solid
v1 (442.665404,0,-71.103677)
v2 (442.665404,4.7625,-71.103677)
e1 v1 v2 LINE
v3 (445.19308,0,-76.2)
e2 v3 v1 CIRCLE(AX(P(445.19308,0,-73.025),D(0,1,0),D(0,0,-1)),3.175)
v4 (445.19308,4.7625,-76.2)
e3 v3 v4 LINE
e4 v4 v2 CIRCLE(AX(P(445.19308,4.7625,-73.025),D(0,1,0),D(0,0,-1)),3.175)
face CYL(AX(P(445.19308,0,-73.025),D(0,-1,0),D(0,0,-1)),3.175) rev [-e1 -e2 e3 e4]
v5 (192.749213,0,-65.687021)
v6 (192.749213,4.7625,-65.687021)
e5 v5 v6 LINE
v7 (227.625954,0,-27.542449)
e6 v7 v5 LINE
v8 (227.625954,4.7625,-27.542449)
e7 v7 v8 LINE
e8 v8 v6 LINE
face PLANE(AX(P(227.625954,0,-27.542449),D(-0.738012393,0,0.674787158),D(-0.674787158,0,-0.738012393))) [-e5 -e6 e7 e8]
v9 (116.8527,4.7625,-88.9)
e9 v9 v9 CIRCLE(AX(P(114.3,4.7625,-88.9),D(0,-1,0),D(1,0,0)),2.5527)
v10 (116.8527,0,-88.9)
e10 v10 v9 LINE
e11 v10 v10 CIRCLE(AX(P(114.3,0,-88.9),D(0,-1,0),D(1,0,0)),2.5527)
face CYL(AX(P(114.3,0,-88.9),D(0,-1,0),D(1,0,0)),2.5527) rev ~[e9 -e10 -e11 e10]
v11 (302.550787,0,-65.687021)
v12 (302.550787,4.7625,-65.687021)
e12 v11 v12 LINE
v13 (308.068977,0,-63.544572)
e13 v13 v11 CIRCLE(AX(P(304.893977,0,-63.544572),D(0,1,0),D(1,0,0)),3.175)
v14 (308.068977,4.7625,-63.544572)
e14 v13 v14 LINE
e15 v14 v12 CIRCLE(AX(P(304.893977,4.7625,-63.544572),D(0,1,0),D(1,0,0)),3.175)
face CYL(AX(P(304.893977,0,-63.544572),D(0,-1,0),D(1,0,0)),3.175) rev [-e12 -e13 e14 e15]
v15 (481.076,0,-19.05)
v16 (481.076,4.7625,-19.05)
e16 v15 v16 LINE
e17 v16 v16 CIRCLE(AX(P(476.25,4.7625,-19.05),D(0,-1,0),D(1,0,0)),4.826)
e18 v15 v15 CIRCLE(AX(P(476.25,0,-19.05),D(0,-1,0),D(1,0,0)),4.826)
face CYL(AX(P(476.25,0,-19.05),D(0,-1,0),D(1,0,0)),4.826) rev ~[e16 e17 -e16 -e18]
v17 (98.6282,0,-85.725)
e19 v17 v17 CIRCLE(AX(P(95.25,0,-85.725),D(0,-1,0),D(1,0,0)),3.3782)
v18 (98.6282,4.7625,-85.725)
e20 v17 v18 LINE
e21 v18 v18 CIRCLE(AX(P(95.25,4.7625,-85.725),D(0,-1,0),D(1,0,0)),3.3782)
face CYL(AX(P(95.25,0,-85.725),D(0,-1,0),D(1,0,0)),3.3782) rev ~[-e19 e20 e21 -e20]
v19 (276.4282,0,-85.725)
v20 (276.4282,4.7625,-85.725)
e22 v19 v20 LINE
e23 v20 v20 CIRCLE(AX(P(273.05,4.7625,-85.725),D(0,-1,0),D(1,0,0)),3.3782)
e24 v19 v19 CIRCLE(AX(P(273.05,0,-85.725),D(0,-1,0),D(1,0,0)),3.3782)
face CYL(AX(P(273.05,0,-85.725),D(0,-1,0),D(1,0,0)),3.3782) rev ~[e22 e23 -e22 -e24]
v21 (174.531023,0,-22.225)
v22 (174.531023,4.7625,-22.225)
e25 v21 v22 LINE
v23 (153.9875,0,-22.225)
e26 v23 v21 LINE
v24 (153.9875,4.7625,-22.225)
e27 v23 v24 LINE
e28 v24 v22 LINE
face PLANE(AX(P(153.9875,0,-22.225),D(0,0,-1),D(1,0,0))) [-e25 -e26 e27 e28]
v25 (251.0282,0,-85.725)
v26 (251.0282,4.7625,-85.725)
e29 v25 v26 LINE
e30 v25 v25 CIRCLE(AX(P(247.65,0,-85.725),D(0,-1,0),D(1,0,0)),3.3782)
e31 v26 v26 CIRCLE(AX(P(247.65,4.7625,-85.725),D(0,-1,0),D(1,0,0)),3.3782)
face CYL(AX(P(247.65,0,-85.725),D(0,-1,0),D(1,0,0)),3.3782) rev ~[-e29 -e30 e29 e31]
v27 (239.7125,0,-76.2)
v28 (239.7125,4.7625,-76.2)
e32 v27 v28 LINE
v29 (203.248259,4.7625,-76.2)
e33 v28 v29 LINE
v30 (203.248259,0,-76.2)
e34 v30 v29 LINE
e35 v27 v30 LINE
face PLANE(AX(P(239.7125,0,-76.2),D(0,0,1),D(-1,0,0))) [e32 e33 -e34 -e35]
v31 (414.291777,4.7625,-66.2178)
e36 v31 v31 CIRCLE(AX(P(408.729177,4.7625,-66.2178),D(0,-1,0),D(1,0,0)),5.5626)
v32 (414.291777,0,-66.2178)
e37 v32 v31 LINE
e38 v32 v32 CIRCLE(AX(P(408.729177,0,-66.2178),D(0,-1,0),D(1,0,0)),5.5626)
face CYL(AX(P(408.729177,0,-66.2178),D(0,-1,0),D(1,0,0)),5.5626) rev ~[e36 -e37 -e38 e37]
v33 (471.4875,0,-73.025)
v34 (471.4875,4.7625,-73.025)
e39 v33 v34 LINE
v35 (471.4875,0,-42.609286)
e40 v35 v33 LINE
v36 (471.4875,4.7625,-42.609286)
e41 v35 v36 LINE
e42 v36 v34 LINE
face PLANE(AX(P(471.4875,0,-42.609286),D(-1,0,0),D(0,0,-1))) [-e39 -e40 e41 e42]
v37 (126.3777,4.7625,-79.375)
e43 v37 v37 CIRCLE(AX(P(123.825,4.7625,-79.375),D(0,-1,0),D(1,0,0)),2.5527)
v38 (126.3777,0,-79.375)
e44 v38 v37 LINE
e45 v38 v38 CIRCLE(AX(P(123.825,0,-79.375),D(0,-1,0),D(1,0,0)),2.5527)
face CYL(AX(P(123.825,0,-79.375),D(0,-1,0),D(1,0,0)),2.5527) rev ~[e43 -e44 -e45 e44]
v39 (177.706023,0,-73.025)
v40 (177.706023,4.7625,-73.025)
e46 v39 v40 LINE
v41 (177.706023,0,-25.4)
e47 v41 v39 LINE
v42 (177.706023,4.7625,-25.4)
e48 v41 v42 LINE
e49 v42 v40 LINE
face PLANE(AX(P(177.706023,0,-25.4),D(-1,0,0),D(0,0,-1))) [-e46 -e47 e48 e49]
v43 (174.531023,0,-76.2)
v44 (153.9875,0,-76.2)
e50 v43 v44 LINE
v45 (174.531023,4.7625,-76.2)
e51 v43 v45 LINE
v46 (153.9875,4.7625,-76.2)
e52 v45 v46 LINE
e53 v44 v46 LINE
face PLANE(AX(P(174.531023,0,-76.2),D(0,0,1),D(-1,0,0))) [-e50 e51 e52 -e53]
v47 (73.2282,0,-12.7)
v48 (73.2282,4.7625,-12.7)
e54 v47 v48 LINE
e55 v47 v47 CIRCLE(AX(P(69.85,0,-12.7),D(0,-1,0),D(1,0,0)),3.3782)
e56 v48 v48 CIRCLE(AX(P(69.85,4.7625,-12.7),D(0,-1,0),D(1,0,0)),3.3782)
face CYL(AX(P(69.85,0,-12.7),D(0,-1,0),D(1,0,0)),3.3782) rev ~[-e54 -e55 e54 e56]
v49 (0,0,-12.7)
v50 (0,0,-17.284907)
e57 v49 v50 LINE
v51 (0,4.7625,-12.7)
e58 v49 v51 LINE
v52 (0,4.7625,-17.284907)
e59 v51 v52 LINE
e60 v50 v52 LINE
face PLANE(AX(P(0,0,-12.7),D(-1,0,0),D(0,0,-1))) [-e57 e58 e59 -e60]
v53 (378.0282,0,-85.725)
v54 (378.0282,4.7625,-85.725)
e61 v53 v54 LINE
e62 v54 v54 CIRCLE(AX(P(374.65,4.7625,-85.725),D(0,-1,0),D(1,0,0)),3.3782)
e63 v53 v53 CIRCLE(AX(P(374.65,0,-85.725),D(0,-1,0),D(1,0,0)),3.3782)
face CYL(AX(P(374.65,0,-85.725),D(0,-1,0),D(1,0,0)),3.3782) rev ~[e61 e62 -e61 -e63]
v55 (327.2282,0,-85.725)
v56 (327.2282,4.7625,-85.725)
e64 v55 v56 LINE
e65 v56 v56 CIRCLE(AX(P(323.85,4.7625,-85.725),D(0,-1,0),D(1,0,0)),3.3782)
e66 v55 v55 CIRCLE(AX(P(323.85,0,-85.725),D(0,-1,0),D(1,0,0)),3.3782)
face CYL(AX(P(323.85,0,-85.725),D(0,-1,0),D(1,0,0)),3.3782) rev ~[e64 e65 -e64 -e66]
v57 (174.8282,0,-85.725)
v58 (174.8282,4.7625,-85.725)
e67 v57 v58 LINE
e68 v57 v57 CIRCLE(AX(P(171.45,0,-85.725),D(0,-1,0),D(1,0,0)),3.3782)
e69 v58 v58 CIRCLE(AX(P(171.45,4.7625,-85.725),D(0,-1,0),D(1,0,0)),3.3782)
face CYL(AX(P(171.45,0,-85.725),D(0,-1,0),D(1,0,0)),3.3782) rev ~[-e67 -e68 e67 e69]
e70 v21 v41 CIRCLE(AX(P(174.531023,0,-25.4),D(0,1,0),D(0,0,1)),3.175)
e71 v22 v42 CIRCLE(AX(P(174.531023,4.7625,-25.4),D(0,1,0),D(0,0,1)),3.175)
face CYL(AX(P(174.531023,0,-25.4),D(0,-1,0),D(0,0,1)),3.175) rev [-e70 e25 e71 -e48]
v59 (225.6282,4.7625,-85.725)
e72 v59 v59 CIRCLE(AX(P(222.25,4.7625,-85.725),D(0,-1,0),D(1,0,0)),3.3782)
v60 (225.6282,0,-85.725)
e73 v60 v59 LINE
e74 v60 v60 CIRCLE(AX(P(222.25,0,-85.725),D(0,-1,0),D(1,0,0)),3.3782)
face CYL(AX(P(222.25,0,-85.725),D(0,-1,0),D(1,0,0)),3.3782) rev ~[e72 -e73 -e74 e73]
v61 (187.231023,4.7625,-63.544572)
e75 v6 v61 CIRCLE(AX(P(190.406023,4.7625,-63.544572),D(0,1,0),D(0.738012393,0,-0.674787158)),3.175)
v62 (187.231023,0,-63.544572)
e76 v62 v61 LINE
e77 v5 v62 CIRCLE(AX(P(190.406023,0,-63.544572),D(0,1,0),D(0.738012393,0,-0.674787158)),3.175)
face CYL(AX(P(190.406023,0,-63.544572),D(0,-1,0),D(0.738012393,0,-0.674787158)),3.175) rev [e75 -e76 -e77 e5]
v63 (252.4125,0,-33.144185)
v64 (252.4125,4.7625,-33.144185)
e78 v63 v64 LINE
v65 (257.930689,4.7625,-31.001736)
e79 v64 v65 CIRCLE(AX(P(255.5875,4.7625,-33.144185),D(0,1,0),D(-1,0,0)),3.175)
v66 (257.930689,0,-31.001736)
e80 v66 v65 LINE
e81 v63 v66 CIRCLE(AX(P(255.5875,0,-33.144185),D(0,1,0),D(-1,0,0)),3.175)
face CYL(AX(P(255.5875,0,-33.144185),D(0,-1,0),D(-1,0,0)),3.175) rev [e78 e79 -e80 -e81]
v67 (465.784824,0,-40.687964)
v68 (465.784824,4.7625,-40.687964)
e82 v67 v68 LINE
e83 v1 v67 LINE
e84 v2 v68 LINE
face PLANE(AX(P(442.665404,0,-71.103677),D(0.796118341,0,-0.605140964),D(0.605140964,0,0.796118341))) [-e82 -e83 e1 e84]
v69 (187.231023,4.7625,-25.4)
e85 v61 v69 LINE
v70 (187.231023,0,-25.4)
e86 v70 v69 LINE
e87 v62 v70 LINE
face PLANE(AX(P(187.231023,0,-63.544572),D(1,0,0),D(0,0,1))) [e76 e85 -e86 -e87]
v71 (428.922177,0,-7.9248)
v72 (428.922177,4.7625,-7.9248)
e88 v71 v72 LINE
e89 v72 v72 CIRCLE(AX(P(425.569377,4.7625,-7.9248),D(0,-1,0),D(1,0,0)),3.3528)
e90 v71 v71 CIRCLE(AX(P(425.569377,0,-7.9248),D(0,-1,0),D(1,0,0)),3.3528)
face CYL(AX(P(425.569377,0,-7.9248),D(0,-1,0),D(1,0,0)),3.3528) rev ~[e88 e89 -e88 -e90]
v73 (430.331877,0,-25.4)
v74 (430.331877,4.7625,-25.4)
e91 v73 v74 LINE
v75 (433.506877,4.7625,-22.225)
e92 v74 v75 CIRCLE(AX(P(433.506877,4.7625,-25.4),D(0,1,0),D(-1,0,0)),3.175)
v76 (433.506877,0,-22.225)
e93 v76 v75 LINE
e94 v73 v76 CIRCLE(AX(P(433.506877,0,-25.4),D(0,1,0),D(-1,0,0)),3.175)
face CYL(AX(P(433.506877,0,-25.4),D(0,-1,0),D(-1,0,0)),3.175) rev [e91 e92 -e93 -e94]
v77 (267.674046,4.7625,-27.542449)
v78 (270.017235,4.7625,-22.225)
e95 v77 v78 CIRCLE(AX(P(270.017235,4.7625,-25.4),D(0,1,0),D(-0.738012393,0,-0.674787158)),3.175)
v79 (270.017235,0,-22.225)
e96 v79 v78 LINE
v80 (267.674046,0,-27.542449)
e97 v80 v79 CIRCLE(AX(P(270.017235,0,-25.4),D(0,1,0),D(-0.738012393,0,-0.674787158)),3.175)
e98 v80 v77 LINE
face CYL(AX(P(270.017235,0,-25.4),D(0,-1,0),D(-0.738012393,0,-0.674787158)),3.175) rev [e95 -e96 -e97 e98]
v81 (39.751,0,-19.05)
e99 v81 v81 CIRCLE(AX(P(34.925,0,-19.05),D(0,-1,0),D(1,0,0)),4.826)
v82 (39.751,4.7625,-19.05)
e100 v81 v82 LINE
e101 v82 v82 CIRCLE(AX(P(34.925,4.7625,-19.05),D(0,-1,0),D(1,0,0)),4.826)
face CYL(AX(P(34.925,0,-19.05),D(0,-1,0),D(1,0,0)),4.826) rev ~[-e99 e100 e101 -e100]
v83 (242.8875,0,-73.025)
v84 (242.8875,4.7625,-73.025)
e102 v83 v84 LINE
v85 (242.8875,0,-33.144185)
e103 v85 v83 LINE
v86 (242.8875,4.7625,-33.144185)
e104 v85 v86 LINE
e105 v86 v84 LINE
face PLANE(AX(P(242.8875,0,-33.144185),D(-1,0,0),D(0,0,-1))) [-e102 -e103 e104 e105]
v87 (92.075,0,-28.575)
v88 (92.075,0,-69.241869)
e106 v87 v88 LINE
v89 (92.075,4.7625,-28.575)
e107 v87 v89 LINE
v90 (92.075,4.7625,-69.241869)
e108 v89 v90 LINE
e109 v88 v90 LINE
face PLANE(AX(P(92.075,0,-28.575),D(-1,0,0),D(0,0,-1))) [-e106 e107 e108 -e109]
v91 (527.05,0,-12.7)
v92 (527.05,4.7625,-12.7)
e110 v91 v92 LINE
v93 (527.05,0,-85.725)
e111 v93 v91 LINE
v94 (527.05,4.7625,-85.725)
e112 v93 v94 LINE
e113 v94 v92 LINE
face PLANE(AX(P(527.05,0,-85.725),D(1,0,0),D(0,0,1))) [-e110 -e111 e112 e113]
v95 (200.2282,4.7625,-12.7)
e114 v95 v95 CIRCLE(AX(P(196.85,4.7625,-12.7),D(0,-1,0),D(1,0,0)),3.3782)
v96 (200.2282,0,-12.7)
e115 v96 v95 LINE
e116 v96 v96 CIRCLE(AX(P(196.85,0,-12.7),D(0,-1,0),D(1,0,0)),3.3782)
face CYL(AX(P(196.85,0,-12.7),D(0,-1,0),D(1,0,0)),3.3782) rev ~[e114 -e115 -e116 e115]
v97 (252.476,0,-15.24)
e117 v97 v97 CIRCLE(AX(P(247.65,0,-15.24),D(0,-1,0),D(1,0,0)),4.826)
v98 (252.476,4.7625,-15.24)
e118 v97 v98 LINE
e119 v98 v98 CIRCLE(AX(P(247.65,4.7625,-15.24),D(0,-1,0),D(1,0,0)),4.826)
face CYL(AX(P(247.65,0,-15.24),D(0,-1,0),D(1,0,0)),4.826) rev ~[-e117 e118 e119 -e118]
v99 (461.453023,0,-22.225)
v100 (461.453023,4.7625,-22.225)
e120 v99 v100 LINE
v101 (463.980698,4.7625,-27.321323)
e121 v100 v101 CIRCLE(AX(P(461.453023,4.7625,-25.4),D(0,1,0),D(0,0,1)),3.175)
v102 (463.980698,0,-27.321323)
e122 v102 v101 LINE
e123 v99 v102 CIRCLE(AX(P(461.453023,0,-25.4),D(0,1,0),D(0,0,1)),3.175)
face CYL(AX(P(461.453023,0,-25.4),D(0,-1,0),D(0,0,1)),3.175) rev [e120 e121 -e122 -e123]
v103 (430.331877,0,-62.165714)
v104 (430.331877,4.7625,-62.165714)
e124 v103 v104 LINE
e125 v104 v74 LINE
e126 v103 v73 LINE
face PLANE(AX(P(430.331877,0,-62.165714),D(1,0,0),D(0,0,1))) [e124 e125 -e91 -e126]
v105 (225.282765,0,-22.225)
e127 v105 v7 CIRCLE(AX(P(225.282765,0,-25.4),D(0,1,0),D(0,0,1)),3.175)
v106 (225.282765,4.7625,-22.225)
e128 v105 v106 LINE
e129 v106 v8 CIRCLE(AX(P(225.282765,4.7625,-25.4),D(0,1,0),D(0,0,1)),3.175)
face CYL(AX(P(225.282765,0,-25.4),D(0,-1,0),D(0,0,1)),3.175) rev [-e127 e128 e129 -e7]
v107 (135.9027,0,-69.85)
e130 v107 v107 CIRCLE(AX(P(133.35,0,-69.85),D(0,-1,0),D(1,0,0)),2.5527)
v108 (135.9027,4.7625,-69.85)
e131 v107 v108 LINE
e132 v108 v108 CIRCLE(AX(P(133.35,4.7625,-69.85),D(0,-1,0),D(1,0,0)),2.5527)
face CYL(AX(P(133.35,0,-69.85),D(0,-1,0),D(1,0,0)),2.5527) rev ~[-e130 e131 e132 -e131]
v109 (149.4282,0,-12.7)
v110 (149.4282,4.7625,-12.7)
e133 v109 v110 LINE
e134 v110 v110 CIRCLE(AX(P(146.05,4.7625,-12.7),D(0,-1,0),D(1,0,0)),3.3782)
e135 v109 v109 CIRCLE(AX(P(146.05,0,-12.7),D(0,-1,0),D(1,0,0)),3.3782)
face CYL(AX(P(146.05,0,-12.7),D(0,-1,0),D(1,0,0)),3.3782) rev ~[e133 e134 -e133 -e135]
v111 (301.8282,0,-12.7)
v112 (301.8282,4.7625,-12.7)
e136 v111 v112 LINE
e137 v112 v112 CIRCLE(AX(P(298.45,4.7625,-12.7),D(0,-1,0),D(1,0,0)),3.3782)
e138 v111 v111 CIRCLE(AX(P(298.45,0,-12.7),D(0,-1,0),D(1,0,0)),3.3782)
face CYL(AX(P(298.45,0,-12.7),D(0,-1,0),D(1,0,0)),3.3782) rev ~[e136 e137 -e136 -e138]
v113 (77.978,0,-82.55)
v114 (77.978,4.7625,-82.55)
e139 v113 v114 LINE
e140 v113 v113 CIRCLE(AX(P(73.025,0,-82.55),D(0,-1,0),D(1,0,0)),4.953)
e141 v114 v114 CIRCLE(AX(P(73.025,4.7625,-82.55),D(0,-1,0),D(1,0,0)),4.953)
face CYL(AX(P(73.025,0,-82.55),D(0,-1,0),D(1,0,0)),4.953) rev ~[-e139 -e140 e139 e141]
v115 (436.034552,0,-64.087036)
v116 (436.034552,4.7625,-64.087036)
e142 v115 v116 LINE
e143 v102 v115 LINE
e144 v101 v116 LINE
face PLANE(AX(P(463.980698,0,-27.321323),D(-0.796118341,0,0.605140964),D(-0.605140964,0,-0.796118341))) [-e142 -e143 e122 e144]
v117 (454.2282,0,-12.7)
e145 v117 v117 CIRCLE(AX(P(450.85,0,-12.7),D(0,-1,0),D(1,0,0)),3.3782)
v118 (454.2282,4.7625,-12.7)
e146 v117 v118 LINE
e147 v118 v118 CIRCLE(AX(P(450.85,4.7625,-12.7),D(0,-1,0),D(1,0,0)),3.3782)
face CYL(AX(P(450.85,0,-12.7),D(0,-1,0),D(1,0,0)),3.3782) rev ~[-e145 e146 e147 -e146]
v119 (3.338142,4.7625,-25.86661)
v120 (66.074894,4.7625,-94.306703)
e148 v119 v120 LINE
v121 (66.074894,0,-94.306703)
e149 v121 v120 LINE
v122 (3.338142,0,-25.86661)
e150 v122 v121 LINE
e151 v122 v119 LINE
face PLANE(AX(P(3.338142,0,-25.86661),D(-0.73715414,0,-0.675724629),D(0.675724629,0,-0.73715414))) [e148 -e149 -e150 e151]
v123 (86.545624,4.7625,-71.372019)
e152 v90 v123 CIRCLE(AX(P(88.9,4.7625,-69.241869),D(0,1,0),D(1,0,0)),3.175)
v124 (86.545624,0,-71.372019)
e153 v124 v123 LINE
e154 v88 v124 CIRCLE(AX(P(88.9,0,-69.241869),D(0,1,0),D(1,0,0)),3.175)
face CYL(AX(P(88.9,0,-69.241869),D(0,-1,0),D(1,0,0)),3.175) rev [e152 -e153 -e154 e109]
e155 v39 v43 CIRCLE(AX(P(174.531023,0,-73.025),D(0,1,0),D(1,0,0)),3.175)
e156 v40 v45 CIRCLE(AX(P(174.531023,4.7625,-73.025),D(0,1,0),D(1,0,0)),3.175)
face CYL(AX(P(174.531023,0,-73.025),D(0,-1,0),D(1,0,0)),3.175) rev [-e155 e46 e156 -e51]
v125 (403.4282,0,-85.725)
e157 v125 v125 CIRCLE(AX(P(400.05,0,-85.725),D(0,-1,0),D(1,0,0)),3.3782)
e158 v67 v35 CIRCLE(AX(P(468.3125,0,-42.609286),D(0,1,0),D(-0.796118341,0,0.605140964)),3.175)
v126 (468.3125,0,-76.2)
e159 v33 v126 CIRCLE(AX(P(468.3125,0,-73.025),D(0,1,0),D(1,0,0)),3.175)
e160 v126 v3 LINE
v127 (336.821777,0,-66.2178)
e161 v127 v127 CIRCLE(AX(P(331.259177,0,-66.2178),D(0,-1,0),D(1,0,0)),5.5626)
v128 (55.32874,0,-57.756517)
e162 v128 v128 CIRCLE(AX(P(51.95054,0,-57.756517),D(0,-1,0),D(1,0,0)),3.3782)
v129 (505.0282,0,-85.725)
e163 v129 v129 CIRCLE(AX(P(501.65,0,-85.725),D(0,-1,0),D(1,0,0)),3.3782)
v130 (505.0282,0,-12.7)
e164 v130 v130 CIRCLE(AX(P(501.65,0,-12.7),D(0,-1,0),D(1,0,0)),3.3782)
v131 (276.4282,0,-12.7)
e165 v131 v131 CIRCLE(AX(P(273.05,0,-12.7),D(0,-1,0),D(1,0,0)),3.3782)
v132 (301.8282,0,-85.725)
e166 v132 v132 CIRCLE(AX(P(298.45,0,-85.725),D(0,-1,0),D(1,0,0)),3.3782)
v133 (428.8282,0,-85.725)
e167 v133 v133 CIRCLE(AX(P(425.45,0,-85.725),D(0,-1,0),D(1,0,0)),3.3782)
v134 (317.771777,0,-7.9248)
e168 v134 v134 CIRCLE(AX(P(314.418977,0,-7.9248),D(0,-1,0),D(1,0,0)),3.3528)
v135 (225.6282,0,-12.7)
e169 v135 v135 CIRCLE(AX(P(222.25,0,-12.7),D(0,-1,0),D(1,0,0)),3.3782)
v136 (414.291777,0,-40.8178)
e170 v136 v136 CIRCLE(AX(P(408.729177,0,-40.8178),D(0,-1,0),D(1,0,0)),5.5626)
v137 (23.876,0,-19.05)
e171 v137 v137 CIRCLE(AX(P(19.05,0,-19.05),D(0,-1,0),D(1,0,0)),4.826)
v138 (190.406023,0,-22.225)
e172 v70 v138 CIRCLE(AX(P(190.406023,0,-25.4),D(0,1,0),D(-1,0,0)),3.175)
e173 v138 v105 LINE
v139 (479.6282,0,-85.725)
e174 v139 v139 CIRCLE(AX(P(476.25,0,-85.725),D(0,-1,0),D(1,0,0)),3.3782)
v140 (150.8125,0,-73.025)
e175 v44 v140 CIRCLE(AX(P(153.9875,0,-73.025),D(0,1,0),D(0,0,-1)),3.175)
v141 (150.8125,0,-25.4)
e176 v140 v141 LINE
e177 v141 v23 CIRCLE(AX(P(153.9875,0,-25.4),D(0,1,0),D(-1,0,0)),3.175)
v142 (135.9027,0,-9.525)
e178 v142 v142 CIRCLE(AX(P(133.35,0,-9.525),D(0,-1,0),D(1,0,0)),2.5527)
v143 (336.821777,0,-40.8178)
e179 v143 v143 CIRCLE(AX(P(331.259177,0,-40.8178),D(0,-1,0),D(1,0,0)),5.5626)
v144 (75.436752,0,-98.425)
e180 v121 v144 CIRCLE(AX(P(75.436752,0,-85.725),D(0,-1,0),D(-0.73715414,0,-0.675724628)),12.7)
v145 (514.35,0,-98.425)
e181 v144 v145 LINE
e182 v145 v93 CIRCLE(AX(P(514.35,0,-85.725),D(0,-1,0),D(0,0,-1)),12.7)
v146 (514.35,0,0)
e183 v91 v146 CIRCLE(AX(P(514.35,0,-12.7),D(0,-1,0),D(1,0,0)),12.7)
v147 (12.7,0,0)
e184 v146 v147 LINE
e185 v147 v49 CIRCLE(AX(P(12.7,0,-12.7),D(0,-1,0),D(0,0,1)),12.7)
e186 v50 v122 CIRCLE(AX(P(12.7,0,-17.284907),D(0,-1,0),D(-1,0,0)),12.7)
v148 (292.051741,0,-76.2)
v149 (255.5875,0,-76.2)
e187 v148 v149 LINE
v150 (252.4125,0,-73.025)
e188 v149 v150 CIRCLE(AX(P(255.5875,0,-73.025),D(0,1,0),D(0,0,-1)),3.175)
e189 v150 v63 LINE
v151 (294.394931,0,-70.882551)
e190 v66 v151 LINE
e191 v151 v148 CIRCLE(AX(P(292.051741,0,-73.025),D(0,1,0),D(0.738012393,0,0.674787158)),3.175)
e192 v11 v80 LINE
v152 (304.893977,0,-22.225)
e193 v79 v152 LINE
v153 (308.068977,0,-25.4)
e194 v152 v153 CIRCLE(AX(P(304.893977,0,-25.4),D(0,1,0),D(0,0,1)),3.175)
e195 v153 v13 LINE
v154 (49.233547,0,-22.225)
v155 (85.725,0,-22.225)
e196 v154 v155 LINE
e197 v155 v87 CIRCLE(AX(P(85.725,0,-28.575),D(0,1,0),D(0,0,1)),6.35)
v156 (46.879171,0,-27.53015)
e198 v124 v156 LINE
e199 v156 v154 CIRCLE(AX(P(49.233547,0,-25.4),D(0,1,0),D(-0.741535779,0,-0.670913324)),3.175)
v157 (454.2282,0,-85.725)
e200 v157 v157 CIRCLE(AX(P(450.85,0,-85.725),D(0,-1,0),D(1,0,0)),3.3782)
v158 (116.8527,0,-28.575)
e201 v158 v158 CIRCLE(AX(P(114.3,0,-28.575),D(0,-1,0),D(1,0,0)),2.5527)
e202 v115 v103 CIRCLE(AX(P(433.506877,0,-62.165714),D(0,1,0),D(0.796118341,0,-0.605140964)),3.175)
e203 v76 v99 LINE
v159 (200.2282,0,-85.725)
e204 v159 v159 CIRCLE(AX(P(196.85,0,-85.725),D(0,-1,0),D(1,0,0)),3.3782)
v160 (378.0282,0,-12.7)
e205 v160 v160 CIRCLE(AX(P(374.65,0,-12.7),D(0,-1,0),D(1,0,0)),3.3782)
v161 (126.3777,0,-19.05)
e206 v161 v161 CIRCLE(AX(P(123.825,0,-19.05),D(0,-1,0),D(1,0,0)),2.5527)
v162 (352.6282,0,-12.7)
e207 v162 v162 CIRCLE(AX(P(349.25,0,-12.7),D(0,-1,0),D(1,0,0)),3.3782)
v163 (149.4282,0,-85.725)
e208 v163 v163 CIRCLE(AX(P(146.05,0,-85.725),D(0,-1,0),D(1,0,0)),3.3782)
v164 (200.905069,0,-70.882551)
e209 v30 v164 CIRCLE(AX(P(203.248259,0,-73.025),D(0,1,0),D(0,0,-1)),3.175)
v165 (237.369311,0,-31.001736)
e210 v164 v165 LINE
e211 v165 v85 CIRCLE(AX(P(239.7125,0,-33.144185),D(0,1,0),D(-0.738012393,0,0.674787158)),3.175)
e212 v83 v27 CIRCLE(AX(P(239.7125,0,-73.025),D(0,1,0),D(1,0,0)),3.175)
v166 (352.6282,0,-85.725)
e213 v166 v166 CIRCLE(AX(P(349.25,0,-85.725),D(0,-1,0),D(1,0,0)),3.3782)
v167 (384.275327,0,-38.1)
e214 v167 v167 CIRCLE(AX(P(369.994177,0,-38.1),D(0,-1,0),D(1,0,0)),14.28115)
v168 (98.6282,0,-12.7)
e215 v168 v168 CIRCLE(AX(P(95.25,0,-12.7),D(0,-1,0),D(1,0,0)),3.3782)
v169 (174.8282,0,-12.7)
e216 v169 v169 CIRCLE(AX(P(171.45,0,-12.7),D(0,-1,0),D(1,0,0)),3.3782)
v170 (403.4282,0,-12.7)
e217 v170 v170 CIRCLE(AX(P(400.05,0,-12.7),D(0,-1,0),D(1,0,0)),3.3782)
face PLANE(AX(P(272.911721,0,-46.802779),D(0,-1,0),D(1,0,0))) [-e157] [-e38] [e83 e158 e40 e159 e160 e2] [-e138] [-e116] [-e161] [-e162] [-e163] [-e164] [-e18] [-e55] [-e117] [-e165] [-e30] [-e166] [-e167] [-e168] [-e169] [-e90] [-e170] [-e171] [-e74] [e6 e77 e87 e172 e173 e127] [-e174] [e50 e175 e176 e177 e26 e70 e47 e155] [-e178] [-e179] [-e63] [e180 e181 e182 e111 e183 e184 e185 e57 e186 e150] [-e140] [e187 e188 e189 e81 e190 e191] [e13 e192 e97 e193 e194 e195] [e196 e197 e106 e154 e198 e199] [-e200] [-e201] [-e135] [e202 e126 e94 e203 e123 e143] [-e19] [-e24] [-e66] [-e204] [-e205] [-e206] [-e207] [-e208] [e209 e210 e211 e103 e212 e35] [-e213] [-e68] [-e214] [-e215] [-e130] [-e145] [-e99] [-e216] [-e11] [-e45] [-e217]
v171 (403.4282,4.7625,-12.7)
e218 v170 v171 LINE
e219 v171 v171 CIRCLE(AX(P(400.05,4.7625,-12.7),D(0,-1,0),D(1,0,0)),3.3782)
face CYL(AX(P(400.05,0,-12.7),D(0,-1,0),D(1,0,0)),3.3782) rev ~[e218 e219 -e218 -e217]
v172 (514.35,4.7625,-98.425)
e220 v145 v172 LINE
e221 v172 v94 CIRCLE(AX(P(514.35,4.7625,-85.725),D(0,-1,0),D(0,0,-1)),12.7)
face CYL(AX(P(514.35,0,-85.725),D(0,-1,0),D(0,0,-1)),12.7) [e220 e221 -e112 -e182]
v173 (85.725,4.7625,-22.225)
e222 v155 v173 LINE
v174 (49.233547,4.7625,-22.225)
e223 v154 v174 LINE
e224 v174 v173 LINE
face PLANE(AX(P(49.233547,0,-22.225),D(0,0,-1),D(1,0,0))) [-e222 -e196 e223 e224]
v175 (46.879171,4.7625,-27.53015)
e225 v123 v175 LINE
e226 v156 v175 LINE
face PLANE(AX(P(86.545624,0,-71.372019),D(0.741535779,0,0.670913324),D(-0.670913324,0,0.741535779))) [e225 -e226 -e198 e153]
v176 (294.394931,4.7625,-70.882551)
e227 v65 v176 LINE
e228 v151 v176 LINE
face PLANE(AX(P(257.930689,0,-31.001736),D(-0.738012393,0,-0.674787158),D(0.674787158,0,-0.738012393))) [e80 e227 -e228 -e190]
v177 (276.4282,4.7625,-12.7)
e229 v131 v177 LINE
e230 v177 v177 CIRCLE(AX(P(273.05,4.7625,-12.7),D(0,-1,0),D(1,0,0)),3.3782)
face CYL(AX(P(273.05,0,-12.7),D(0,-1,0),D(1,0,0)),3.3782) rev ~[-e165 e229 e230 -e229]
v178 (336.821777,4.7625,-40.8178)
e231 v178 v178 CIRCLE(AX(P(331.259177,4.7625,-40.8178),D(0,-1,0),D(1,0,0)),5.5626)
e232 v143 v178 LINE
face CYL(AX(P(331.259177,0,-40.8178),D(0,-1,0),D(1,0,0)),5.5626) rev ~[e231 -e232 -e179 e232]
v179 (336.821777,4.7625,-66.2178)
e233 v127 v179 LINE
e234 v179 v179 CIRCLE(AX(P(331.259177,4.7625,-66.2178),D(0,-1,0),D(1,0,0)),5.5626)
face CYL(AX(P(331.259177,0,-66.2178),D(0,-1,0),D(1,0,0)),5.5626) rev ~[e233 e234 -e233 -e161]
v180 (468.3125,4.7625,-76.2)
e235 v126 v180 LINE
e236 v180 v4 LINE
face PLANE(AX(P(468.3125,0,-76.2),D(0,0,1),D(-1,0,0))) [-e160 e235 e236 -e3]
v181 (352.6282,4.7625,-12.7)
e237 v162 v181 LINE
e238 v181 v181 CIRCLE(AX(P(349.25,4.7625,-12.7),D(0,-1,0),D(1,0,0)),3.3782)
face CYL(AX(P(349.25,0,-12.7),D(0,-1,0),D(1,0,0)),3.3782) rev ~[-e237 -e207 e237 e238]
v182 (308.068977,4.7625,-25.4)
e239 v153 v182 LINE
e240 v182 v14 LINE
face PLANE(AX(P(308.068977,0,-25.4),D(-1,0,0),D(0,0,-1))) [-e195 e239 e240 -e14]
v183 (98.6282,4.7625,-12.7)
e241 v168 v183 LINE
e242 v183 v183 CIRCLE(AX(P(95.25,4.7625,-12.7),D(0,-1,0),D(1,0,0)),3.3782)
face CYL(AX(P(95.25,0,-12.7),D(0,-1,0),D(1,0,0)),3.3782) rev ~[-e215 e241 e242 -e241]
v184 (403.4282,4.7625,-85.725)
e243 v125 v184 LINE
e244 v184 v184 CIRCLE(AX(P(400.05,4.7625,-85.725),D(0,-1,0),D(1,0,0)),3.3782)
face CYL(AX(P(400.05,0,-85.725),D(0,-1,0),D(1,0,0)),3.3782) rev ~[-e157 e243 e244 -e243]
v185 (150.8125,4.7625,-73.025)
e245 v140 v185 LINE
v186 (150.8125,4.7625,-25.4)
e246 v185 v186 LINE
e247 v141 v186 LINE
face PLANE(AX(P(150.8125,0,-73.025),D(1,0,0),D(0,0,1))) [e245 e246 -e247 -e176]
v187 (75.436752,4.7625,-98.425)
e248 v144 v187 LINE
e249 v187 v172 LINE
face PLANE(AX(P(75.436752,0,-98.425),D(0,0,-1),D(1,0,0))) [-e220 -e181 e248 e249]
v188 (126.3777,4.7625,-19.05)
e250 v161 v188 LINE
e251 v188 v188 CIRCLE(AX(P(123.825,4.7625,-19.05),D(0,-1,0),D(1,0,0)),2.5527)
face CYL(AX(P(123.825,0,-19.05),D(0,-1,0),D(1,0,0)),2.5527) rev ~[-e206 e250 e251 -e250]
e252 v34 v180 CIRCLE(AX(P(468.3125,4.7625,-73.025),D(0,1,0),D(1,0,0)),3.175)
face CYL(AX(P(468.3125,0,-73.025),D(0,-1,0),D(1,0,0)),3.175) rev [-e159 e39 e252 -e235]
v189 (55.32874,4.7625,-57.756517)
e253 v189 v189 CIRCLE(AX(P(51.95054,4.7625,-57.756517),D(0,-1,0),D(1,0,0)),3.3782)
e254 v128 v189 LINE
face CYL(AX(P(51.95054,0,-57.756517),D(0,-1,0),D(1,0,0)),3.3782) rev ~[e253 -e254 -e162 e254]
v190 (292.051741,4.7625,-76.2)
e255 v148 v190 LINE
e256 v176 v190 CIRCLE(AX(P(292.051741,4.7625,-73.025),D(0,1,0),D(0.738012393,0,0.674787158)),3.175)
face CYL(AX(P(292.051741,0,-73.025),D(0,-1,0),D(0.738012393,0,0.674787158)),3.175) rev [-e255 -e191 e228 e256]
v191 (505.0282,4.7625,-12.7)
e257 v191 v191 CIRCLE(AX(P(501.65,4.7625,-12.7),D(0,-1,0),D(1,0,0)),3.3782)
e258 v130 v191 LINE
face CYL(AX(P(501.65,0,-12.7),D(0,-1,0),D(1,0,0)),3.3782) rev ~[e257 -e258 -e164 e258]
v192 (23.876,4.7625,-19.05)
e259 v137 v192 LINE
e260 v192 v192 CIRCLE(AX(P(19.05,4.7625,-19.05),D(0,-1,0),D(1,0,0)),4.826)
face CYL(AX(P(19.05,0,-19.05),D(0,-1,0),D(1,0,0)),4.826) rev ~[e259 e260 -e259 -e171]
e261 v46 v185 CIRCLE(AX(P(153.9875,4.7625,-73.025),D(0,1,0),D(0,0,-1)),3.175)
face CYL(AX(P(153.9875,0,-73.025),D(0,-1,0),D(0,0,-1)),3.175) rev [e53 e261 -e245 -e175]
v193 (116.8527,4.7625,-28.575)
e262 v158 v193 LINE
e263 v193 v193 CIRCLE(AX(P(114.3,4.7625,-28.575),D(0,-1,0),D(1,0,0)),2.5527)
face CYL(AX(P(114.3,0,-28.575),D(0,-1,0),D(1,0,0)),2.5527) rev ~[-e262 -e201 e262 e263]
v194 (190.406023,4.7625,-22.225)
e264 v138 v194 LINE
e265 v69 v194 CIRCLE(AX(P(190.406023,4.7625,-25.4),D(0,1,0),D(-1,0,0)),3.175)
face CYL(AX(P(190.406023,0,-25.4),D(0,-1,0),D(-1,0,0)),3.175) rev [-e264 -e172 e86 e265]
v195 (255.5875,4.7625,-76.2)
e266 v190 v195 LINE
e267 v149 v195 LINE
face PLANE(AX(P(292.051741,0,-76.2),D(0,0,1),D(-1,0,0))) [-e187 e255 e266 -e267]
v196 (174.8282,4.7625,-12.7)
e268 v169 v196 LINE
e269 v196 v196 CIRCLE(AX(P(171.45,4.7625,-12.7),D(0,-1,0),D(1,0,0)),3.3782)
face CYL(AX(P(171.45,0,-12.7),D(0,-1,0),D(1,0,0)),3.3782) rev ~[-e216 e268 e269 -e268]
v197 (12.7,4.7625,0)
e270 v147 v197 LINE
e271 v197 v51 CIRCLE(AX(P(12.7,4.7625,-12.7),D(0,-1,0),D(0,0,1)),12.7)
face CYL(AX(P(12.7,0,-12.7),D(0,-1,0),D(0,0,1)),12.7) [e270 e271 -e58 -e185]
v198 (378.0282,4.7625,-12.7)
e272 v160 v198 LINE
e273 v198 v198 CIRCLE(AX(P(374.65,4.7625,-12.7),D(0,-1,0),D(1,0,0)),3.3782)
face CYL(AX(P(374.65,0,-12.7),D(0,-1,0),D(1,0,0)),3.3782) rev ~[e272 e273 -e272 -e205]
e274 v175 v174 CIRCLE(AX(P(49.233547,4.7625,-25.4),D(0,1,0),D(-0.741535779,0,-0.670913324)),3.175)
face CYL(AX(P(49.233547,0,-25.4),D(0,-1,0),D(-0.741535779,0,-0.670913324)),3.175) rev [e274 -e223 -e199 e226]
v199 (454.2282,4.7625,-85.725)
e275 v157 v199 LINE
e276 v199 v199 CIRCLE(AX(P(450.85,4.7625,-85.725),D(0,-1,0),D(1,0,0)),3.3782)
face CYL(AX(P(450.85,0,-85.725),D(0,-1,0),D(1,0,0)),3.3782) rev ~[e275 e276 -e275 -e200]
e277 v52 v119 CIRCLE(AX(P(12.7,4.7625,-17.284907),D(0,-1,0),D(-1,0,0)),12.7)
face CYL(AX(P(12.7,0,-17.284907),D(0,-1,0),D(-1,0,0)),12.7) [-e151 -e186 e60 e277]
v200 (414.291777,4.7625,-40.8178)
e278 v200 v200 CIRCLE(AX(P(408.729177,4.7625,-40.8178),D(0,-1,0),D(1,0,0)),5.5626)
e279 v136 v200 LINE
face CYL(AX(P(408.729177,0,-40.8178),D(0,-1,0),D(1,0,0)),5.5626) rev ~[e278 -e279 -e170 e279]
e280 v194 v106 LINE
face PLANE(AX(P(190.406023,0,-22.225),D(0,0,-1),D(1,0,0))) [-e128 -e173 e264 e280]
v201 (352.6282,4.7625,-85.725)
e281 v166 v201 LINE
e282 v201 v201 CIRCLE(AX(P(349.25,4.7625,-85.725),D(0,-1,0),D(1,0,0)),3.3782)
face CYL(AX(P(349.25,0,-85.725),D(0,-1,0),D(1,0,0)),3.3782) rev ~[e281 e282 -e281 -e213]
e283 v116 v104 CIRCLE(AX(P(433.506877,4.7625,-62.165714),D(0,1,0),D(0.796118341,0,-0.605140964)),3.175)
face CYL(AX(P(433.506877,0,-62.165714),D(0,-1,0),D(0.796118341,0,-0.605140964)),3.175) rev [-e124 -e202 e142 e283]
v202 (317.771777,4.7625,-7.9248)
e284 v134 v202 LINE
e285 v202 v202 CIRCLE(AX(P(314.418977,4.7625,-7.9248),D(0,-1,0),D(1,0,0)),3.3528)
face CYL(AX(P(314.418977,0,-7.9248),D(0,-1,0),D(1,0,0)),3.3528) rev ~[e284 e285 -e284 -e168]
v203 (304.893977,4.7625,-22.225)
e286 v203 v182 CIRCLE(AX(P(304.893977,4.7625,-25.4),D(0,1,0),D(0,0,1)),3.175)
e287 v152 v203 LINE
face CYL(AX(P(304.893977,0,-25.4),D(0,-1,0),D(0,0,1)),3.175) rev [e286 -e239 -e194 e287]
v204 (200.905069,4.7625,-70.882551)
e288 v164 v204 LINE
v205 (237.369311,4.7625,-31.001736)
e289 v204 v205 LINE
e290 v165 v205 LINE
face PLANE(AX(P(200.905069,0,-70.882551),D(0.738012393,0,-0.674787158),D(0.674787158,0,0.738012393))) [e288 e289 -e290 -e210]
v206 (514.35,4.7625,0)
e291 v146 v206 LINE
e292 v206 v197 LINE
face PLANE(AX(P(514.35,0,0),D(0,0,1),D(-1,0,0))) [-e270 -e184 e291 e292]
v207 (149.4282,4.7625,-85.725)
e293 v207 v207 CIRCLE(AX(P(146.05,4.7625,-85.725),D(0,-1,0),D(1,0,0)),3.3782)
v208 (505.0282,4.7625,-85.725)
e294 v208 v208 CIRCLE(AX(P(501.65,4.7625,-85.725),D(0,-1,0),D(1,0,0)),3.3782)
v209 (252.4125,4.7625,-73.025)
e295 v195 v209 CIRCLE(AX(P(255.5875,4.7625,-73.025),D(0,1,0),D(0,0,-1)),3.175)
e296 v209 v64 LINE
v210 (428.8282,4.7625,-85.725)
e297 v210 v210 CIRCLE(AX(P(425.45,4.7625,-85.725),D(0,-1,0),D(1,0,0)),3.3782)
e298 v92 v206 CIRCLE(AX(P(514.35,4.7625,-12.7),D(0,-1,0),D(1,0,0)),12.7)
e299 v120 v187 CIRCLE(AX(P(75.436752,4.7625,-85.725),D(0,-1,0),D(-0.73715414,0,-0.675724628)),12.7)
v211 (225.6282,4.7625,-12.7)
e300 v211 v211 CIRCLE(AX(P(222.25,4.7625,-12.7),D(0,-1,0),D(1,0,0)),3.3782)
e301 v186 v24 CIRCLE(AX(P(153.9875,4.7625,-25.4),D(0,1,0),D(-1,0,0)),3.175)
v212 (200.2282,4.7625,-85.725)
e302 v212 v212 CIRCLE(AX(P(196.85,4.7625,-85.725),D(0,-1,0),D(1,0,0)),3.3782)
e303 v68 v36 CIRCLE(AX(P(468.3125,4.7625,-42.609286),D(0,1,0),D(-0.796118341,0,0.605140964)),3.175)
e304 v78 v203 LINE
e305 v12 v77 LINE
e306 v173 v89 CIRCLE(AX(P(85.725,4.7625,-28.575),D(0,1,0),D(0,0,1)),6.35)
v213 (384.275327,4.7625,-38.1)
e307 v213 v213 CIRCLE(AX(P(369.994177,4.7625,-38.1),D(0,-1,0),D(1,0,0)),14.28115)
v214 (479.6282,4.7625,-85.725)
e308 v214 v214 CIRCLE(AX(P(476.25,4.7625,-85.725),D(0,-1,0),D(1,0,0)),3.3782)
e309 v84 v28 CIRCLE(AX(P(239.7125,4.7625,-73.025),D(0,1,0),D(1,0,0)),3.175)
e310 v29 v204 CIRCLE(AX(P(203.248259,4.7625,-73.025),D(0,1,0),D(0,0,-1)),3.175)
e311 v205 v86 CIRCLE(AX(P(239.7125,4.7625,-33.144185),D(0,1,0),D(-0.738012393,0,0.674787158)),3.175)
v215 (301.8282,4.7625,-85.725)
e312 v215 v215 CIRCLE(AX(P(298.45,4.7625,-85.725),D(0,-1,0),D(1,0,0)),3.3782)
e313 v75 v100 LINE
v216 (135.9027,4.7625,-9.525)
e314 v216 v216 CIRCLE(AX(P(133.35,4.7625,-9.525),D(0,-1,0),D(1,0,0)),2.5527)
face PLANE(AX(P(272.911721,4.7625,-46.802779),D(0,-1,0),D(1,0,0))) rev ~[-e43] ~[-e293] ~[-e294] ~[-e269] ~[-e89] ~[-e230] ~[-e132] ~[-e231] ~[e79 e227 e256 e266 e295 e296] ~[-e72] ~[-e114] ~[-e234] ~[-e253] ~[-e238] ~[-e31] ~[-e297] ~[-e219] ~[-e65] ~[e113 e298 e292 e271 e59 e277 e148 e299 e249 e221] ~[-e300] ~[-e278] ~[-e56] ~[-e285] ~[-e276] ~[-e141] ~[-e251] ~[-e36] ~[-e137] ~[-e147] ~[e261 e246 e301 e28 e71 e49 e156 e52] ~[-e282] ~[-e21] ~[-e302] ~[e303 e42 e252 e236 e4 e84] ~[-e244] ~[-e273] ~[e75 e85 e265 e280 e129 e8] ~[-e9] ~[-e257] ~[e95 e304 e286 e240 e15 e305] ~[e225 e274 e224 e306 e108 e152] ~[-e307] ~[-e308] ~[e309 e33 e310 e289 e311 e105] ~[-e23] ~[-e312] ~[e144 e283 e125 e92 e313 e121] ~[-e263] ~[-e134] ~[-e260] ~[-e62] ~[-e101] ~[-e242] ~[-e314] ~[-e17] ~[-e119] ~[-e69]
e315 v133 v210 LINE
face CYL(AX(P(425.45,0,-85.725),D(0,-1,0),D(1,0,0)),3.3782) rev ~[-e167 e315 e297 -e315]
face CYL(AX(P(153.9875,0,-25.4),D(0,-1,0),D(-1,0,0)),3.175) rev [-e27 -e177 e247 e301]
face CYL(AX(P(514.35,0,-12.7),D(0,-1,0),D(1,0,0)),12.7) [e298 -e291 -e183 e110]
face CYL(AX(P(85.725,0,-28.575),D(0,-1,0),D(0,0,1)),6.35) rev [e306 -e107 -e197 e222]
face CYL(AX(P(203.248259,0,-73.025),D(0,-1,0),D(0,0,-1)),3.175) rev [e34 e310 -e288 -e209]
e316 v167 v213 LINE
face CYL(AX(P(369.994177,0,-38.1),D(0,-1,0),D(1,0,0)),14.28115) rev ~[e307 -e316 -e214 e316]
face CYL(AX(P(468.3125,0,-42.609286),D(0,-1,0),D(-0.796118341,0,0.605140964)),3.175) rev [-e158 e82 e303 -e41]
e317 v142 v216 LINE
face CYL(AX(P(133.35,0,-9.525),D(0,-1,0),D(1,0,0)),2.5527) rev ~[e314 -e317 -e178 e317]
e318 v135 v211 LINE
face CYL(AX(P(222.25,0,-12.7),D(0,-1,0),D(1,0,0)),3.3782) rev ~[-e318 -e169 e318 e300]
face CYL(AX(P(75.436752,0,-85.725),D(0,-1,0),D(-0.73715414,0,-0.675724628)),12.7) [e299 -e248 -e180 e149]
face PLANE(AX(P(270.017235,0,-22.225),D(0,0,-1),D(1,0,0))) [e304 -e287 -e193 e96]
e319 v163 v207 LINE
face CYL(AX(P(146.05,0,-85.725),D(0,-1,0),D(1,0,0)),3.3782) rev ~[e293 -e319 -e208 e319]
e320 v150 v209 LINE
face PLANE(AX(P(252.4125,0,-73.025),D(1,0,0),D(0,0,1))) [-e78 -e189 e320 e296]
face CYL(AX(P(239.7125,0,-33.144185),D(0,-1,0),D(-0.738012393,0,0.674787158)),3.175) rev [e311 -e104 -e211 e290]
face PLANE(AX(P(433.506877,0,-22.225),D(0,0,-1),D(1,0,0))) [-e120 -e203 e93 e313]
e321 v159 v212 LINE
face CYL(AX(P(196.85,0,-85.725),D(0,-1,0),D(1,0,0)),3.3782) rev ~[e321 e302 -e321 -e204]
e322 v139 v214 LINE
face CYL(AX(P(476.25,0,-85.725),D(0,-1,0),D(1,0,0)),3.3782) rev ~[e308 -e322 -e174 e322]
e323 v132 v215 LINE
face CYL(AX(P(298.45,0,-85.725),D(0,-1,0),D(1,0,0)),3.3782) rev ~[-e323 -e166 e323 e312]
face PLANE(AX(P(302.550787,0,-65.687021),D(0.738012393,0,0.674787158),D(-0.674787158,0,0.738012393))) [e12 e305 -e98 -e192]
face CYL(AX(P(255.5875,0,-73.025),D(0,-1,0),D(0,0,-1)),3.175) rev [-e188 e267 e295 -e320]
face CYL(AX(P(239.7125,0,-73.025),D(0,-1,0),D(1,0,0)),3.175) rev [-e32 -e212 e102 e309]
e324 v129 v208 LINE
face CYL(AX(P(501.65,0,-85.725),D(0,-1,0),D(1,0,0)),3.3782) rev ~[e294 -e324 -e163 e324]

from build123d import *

# Parameters (mm, degrees)
SKETCH1_R           = 4.826
SKETCH1_R_2         = 14.28115
SKETCH1_R_3         = 3.3528
SKETCH1_R_4         = 4.953
SKETCH1_R_5         = 3.3782
SKETCH1_R_6         = 2.5527
SKETCH1_R_7         = 5.5626
BOSS_EXTRUDE1_DEPTH = 4.7625


with BuildPart() as part:
    # Sketch1 → Boss-Extrude1 (new body)
    with BuildSketch(Plane.XZ):
        with BuildLine():
            Line((3.338142419, -25.866609912), (66.074894217, -94.306702782))
            ThreePointArc((66.074894217, -94.306702782), (70.322928635, -97.34992205), (75.436751798, -98.425))
            Line((75.436751798, -98.425), (514.35, -98.425))
            ThreePointArc((514.35, -98.425), (523.330256121, -94.705256121), (527.05, -85.725))
            Line((527.05, -85.725), (527.05, -12.7))
            ThreePointArc((527.05, -12.7), (523.330256121, -3.719743879), (514.35, 0))
            Line((514.35, 0), (12.7, 0))
            ThreePointArc((12.7, 0), (3.719743879, -3.719743879), (0, -12.7))
            Line((0, -12.7), (0, -17.28490713))
            ThreePointArc((0, -17.28490713), (0.863919752, -21.888949307), (3.338142419, -25.866609912))
        make_face()
        with Locations((34.925, -19.05)):
            Circle(SKETCH1_R, mode=Mode.SUBTRACT)
        with Locations((476.25, -19.05)):
            Circle(SKETCH1_R, mode=Mode.SUBTRACT)
        with Locations((19.05, -19.05)):
            Circle(SKETCH1_R, mode=Mode.SUBTRACT)
        with Locations((247.65, -15.24)):
            Circle(SKETCH1_R, mode=Mode.SUBTRACT)
        with Locations((369.99417663, -38.1)):
            Circle(SKETCH1_R_2, mode=Mode.SUBTRACT)
        with Locations((314.41897663, -7.9248)):
            Circle(SKETCH1_R_3, mode=Mode.SUBTRACT)
        with Locations((425.56937663, -7.9248)):
            Circle(SKETCH1_R_3, mode=Mode.SUBTRACT)
        with Locations((73.025, -82.55)):
            Circle(SKETCH1_R_4, mode=Mode.SUBTRACT)
        with Locations((95.25, -12.7)):
            Circle(SKETCH1_R_5, mode=Mode.SUBTRACT)
        with Locations((95.25, -85.725)):
            Circle(SKETCH1_R_5, mode=Mode.SUBTRACT)
        with Locations((146.05, -12.7)):
            Circle(SKETCH1_R_5, mode=Mode.SUBTRACT)
        with Locations((146.05, -85.725)):
            Circle(SKETCH1_R_5, mode=Mode.SUBTRACT)
        with Locations((171.45, -12.7)):
            Circle(SKETCH1_R_5, mode=Mode.SUBTRACT)
        with Locations((171.45, -85.725)):
            Circle(SKETCH1_R_5, mode=Mode.SUBTRACT)
        with Locations((196.85, -12.7)):
            Circle(SKETCH1_R_5, mode=Mode.SUBTRACT)
        with Locations((196.85, -85.725)):
            Circle(SKETCH1_R_5, mode=Mode.SUBTRACT)
        with Locations((222.25, -12.7)):
            Circle(SKETCH1_R_5, mode=Mode.SUBTRACT)
        with Locations((222.25, -85.725)):
            Circle(SKETCH1_R_5, mode=Mode.SUBTRACT)
        with Locations((247.65, -85.725)):
            Circle(SKETCH1_R_5, mode=Mode.SUBTRACT)
        with Locations((273.05, -12.7)):
            Circle(SKETCH1_R_5, mode=Mode.SUBTRACT)
        with Locations((273.05, -85.725)):
            Circle(SKETCH1_R_5, mode=Mode.SUBTRACT)
        with Locations((298.45, -12.7)):
            Circle(SKETCH1_R_5, mode=Mode.SUBTRACT)
        with Locations((298.45, -85.725)):
            Circle(SKETCH1_R_5, mode=Mode.SUBTRACT)
        with Locations((323.85, -85.725)):
            Circle(SKETCH1_R_5, mode=Mode.SUBTRACT)
        with Locations((349.25, -12.7)):
            Circle(SKETCH1_R_5, mode=Mode.SUBTRACT)
        with Locations((349.25, -85.725)):
            Circle(SKETCH1_R_5, mode=Mode.SUBTRACT)
        with Locations((374.65, -12.7)):
            Circle(SKETCH1_R_5, mode=Mode.SUBTRACT)
        with Locations((374.65, -85.725)):
            Circle(SKETCH1_R_5, mode=Mode.SUBTRACT)
        with Locations((400.05, -12.7)):
            Circle(SKETCH1_R_5, mode=Mode.SUBTRACT)
        with Locations((400.05, -85.725)):
            Circle(SKETCH1_R_5, mode=Mode.SUBTRACT)
        with Locations((425.45, -85.725)):
            Circle(SKETCH1_R_5, mode=Mode.SUBTRACT)
        with Locations((450.85, -12.7)):
            Circle(SKETCH1_R_5, mode=Mode.SUBTRACT)
        with Locations((450.85, -85.725)):
            Circle(SKETCH1_R_5, mode=Mode.SUBTRACT)
        with Locations((476.25, -85.725)):
            Circle(SKETCH1_R_5, mode=Mode.SUBTRACT)
        with Locations((501.65, -12.7)):
            Circle(SKETCH1_R_5, mode=Mode.SUBTRACT)
        with Locations((501.65, -85.725)):
            Circle(SKETCH1_R_5, mode=Mode.SUBTRACT)
        with Locations((123.825, -19.05)):
            Circle(SKETCH1_R_6, mode=Mode.SUBTRACT)
        with Locations((114.3, -28.575)):
            Circle(SKETCH1_R_6, mode=Mode.SUBTRACT)
        with Locations((133.35, -9.525)):
            Circle(SKETCH1_R_6, mode=Mode.SUBTRACT)
        with Locations((114.3, -88.9)):
            Circle(SKETCH1_R_6, mode=Mode.SUBTRACT)
        with Locations((123.825, -79.375)):
            Circle(SKETCH1_R_6, mode=Mode.SUBTRACT)
        with Locations((133.35, -69.85)):
            Circle(SKETCH1_R_6, mode=Mode.SUBTRACT)
        with Locations((331.25917663, -40.8178)):
            Circle(SKETCH1_R_7, mode=Mode.SUBTRACT)
        with Locations((408.72917663, -66.2178)):
            Circle(SKETCH1_R_7, mode=Mode.SUBTRACT)
        with Locations((331.25917663, -66.2178)):
            Circle(SKETCH1_R_7, mode=Mode.SUBTRACT)
        with Locations((408.72917663, -40.8178)):
            Circle(SKETCH1_R_7, mode=Mode.SUBTRACT)
        with Locations((69.85, -12.7)):
            Circle(SKETCH1_R_5, mode=Mode.SUBTRACT)
        with Locations((51.950539741, -57.756517342)):
            Circle(SKETCH1_R_5, mode=Mode.SUBTRACT)
        with BuildLine():
            Line((49.23354708, -22.225), (85.725, -22.225))
            ThreePointArc((85.725, -22.225), (90.215128061, -24.084871939), (92.075, -28.575))
            Line((92.075, -28.575), (92.075, -69.241869017))
            ThreePointArc((92.075, -69.241869017), (90.041376556, -72.204618509), (86.545623901, -71.37201882))
            Line((86.545623901, -71.37201882), (46.879170981, -27.530149804))
            ThreePointArc((46.879170981, -27.530149804), (46.33149172, -24.112094846), (49.23354708, -22.225))
        make_face(mode=Mode.SUBTRACT)
        with BuildLine():
            Line((174.53102337, -76.2), (153.9875, -76.2))
            ThreePointArc((153.9875, -76.2), (151.74243597, -75.27006403), (150.8125, -73.025))
            Line((150.8125, -73.025), (150.8125, -25.4))
            ThreePointArc((150.8125, -25.4), (151.74243597, -23.15493597), (153.9875, -22.225))
            Line((153.9875, -22.225), (174.53102337, -22.225))
            ThreePointArc((174.53102337, -22.225), (176.7760874, -23.15493597), (177.70602337, -25.4))
            Line((177.70602337, -25.4), (177.70602337, -73.025))
            ThreePointArc((177.70602337, -73.025), (176.7760874, -75.27006403), (174.53102337, -76.2))
        make_face(mode=Mode.SUBTRACT)
        with BuildLine():
            Line((227.625953961, -27.542449226), (192.749212716, -65.68702112))
            ThreePointArc((192.749212716, -65.68702112), (189.25689352, -66.504322828), (187.23102337, -63.544571894))
            Line((187.23102337, -63.544571894), (187.23102337, -25.4))
            ThreePointArc((187.23102337, -25.4), (188.16095934, -23.15493597), (190.40602337, -22.225))
            Line((190.40602337, -22.225), (225.282764614, -22.225))
            ThreePointArc((225.282764614, -22.225), (228.188182079, -24.119697554), (227.625953961, -27.542449226))
        make_face(mode=Mode.SUBTRACT)
        with BuildLine():
            Line((252.4125, -73.025), (252.4125, -33.144184818))
            ThreePointArc((252.4125, -33.144184818), (254.43837015, -30.184433885), (257.930689347, -31.001735592))
            Line((257.930689347, -31.001735592), (294.394930591, -70.882550774))
            ThreePointArc((294.394930591, -70.882550774), (294.957158709, -74.305302446), (292.051741244, -76.2))
            Line((292.051741244, -76.2), (255.5875, -76.2))
            ThreePointArc((255.5875, -76.2), (253.34243597, -75.27006403), (252.4125, -73.025))
        make_face(mode=Mode.SUBTRACT)
        with BuildLine():
            Line((239.7125, -76.2), (203.248258756, -76.2))
            ThreePointArc((203.248258756, -76.2), (200.342841291, -74.305302446), (200.905069409, -70.882550774))
            Line((200.905069409, -70.882550774), (237.369310653, -31.001735592))
            ThreePointArc((237.369310653, -31.001735592), (240.86162985, -30.184433885), (242.8875, -33.144184818))
            Line((242.8875, -33.144184818), (242.8875, -73.025))
            ThreePointArc((242.8875, -73.025), (241.95756403, -75.27006403), (239.7125, -76.2))
        make_face(mode=Mode.SUBTRACT)
        with BuildLine():
            Line((270.017235386, -22.225), (304.89397663, -22.225))
            ThreePointArc((304.89397663, -22.225), (307.13904066, -23.15493597), (308.06897663, -25.4))
            Line((308.06897663, -25.4), (308.06897663, -63.544571894))
            ThreePointArc((308.06897663, -63.544571894), (306.04310648, -66.504322828), (302.550787284, -65.68702112))
            Line((302.550787284, -65.68702112), (267.674046039, -27.542449226))
            ThreePointArc((267.674046039, -27.542449226), (267.111817921, -24.119697554), (270.017235386, -22.225))
        make_face(mode=Mode.SUBTRACT)
        with BuildLine():
            Line((433.50687663, -22.225), (461.453022572, -22.225))
            ThreePointArc((461.453022572, -22.225), (464.297387539, -23.989250932), (463.980698305, -27.321322562))
            Line((463.980698305, -27.321322562), (436.034552363, -64.087036098))
            ThreePointArc((436.034552363, -64.087036098), (432.493157106, -65.174533525), (430.33187663, -62.165713536))
            Line((430.33187663, -62.165713536), (430.33187663, -25.4))
            ThreePointArc((430.33187663, -25.4), (431.2618126, -23.15493597), (433.50687663, -22.225))
        make_face(mode=Mode.SUBTRACT)
        with BuildLine():
            Line((442.665404361, -71.103677438), (465.784824267, -40.687963902))
            ThreePointArc((465.784824267, -40.687963902), (469.326219524, -39.600466475), (471.4875, -42.609286464))
            Line((471.4875, -42.609286464), (471.4875, -73.025))
            ThreePointArc((471.4875, -73.025), (470.55756403, -75.27006403), (468.3125, -76.2))
            Line((468.3125, -76.2), (445.193080094, -76.2))
            ThreePointArc((445.193080094, -76.2), (442.348715126, -74.435749068), (442.665404361, -71.103677438))
        make_face(mode=Mode.SUBTRACT)
    extrude(amount=-BOSS_EXTRUDE1_DEPTH)


solid = part.part
